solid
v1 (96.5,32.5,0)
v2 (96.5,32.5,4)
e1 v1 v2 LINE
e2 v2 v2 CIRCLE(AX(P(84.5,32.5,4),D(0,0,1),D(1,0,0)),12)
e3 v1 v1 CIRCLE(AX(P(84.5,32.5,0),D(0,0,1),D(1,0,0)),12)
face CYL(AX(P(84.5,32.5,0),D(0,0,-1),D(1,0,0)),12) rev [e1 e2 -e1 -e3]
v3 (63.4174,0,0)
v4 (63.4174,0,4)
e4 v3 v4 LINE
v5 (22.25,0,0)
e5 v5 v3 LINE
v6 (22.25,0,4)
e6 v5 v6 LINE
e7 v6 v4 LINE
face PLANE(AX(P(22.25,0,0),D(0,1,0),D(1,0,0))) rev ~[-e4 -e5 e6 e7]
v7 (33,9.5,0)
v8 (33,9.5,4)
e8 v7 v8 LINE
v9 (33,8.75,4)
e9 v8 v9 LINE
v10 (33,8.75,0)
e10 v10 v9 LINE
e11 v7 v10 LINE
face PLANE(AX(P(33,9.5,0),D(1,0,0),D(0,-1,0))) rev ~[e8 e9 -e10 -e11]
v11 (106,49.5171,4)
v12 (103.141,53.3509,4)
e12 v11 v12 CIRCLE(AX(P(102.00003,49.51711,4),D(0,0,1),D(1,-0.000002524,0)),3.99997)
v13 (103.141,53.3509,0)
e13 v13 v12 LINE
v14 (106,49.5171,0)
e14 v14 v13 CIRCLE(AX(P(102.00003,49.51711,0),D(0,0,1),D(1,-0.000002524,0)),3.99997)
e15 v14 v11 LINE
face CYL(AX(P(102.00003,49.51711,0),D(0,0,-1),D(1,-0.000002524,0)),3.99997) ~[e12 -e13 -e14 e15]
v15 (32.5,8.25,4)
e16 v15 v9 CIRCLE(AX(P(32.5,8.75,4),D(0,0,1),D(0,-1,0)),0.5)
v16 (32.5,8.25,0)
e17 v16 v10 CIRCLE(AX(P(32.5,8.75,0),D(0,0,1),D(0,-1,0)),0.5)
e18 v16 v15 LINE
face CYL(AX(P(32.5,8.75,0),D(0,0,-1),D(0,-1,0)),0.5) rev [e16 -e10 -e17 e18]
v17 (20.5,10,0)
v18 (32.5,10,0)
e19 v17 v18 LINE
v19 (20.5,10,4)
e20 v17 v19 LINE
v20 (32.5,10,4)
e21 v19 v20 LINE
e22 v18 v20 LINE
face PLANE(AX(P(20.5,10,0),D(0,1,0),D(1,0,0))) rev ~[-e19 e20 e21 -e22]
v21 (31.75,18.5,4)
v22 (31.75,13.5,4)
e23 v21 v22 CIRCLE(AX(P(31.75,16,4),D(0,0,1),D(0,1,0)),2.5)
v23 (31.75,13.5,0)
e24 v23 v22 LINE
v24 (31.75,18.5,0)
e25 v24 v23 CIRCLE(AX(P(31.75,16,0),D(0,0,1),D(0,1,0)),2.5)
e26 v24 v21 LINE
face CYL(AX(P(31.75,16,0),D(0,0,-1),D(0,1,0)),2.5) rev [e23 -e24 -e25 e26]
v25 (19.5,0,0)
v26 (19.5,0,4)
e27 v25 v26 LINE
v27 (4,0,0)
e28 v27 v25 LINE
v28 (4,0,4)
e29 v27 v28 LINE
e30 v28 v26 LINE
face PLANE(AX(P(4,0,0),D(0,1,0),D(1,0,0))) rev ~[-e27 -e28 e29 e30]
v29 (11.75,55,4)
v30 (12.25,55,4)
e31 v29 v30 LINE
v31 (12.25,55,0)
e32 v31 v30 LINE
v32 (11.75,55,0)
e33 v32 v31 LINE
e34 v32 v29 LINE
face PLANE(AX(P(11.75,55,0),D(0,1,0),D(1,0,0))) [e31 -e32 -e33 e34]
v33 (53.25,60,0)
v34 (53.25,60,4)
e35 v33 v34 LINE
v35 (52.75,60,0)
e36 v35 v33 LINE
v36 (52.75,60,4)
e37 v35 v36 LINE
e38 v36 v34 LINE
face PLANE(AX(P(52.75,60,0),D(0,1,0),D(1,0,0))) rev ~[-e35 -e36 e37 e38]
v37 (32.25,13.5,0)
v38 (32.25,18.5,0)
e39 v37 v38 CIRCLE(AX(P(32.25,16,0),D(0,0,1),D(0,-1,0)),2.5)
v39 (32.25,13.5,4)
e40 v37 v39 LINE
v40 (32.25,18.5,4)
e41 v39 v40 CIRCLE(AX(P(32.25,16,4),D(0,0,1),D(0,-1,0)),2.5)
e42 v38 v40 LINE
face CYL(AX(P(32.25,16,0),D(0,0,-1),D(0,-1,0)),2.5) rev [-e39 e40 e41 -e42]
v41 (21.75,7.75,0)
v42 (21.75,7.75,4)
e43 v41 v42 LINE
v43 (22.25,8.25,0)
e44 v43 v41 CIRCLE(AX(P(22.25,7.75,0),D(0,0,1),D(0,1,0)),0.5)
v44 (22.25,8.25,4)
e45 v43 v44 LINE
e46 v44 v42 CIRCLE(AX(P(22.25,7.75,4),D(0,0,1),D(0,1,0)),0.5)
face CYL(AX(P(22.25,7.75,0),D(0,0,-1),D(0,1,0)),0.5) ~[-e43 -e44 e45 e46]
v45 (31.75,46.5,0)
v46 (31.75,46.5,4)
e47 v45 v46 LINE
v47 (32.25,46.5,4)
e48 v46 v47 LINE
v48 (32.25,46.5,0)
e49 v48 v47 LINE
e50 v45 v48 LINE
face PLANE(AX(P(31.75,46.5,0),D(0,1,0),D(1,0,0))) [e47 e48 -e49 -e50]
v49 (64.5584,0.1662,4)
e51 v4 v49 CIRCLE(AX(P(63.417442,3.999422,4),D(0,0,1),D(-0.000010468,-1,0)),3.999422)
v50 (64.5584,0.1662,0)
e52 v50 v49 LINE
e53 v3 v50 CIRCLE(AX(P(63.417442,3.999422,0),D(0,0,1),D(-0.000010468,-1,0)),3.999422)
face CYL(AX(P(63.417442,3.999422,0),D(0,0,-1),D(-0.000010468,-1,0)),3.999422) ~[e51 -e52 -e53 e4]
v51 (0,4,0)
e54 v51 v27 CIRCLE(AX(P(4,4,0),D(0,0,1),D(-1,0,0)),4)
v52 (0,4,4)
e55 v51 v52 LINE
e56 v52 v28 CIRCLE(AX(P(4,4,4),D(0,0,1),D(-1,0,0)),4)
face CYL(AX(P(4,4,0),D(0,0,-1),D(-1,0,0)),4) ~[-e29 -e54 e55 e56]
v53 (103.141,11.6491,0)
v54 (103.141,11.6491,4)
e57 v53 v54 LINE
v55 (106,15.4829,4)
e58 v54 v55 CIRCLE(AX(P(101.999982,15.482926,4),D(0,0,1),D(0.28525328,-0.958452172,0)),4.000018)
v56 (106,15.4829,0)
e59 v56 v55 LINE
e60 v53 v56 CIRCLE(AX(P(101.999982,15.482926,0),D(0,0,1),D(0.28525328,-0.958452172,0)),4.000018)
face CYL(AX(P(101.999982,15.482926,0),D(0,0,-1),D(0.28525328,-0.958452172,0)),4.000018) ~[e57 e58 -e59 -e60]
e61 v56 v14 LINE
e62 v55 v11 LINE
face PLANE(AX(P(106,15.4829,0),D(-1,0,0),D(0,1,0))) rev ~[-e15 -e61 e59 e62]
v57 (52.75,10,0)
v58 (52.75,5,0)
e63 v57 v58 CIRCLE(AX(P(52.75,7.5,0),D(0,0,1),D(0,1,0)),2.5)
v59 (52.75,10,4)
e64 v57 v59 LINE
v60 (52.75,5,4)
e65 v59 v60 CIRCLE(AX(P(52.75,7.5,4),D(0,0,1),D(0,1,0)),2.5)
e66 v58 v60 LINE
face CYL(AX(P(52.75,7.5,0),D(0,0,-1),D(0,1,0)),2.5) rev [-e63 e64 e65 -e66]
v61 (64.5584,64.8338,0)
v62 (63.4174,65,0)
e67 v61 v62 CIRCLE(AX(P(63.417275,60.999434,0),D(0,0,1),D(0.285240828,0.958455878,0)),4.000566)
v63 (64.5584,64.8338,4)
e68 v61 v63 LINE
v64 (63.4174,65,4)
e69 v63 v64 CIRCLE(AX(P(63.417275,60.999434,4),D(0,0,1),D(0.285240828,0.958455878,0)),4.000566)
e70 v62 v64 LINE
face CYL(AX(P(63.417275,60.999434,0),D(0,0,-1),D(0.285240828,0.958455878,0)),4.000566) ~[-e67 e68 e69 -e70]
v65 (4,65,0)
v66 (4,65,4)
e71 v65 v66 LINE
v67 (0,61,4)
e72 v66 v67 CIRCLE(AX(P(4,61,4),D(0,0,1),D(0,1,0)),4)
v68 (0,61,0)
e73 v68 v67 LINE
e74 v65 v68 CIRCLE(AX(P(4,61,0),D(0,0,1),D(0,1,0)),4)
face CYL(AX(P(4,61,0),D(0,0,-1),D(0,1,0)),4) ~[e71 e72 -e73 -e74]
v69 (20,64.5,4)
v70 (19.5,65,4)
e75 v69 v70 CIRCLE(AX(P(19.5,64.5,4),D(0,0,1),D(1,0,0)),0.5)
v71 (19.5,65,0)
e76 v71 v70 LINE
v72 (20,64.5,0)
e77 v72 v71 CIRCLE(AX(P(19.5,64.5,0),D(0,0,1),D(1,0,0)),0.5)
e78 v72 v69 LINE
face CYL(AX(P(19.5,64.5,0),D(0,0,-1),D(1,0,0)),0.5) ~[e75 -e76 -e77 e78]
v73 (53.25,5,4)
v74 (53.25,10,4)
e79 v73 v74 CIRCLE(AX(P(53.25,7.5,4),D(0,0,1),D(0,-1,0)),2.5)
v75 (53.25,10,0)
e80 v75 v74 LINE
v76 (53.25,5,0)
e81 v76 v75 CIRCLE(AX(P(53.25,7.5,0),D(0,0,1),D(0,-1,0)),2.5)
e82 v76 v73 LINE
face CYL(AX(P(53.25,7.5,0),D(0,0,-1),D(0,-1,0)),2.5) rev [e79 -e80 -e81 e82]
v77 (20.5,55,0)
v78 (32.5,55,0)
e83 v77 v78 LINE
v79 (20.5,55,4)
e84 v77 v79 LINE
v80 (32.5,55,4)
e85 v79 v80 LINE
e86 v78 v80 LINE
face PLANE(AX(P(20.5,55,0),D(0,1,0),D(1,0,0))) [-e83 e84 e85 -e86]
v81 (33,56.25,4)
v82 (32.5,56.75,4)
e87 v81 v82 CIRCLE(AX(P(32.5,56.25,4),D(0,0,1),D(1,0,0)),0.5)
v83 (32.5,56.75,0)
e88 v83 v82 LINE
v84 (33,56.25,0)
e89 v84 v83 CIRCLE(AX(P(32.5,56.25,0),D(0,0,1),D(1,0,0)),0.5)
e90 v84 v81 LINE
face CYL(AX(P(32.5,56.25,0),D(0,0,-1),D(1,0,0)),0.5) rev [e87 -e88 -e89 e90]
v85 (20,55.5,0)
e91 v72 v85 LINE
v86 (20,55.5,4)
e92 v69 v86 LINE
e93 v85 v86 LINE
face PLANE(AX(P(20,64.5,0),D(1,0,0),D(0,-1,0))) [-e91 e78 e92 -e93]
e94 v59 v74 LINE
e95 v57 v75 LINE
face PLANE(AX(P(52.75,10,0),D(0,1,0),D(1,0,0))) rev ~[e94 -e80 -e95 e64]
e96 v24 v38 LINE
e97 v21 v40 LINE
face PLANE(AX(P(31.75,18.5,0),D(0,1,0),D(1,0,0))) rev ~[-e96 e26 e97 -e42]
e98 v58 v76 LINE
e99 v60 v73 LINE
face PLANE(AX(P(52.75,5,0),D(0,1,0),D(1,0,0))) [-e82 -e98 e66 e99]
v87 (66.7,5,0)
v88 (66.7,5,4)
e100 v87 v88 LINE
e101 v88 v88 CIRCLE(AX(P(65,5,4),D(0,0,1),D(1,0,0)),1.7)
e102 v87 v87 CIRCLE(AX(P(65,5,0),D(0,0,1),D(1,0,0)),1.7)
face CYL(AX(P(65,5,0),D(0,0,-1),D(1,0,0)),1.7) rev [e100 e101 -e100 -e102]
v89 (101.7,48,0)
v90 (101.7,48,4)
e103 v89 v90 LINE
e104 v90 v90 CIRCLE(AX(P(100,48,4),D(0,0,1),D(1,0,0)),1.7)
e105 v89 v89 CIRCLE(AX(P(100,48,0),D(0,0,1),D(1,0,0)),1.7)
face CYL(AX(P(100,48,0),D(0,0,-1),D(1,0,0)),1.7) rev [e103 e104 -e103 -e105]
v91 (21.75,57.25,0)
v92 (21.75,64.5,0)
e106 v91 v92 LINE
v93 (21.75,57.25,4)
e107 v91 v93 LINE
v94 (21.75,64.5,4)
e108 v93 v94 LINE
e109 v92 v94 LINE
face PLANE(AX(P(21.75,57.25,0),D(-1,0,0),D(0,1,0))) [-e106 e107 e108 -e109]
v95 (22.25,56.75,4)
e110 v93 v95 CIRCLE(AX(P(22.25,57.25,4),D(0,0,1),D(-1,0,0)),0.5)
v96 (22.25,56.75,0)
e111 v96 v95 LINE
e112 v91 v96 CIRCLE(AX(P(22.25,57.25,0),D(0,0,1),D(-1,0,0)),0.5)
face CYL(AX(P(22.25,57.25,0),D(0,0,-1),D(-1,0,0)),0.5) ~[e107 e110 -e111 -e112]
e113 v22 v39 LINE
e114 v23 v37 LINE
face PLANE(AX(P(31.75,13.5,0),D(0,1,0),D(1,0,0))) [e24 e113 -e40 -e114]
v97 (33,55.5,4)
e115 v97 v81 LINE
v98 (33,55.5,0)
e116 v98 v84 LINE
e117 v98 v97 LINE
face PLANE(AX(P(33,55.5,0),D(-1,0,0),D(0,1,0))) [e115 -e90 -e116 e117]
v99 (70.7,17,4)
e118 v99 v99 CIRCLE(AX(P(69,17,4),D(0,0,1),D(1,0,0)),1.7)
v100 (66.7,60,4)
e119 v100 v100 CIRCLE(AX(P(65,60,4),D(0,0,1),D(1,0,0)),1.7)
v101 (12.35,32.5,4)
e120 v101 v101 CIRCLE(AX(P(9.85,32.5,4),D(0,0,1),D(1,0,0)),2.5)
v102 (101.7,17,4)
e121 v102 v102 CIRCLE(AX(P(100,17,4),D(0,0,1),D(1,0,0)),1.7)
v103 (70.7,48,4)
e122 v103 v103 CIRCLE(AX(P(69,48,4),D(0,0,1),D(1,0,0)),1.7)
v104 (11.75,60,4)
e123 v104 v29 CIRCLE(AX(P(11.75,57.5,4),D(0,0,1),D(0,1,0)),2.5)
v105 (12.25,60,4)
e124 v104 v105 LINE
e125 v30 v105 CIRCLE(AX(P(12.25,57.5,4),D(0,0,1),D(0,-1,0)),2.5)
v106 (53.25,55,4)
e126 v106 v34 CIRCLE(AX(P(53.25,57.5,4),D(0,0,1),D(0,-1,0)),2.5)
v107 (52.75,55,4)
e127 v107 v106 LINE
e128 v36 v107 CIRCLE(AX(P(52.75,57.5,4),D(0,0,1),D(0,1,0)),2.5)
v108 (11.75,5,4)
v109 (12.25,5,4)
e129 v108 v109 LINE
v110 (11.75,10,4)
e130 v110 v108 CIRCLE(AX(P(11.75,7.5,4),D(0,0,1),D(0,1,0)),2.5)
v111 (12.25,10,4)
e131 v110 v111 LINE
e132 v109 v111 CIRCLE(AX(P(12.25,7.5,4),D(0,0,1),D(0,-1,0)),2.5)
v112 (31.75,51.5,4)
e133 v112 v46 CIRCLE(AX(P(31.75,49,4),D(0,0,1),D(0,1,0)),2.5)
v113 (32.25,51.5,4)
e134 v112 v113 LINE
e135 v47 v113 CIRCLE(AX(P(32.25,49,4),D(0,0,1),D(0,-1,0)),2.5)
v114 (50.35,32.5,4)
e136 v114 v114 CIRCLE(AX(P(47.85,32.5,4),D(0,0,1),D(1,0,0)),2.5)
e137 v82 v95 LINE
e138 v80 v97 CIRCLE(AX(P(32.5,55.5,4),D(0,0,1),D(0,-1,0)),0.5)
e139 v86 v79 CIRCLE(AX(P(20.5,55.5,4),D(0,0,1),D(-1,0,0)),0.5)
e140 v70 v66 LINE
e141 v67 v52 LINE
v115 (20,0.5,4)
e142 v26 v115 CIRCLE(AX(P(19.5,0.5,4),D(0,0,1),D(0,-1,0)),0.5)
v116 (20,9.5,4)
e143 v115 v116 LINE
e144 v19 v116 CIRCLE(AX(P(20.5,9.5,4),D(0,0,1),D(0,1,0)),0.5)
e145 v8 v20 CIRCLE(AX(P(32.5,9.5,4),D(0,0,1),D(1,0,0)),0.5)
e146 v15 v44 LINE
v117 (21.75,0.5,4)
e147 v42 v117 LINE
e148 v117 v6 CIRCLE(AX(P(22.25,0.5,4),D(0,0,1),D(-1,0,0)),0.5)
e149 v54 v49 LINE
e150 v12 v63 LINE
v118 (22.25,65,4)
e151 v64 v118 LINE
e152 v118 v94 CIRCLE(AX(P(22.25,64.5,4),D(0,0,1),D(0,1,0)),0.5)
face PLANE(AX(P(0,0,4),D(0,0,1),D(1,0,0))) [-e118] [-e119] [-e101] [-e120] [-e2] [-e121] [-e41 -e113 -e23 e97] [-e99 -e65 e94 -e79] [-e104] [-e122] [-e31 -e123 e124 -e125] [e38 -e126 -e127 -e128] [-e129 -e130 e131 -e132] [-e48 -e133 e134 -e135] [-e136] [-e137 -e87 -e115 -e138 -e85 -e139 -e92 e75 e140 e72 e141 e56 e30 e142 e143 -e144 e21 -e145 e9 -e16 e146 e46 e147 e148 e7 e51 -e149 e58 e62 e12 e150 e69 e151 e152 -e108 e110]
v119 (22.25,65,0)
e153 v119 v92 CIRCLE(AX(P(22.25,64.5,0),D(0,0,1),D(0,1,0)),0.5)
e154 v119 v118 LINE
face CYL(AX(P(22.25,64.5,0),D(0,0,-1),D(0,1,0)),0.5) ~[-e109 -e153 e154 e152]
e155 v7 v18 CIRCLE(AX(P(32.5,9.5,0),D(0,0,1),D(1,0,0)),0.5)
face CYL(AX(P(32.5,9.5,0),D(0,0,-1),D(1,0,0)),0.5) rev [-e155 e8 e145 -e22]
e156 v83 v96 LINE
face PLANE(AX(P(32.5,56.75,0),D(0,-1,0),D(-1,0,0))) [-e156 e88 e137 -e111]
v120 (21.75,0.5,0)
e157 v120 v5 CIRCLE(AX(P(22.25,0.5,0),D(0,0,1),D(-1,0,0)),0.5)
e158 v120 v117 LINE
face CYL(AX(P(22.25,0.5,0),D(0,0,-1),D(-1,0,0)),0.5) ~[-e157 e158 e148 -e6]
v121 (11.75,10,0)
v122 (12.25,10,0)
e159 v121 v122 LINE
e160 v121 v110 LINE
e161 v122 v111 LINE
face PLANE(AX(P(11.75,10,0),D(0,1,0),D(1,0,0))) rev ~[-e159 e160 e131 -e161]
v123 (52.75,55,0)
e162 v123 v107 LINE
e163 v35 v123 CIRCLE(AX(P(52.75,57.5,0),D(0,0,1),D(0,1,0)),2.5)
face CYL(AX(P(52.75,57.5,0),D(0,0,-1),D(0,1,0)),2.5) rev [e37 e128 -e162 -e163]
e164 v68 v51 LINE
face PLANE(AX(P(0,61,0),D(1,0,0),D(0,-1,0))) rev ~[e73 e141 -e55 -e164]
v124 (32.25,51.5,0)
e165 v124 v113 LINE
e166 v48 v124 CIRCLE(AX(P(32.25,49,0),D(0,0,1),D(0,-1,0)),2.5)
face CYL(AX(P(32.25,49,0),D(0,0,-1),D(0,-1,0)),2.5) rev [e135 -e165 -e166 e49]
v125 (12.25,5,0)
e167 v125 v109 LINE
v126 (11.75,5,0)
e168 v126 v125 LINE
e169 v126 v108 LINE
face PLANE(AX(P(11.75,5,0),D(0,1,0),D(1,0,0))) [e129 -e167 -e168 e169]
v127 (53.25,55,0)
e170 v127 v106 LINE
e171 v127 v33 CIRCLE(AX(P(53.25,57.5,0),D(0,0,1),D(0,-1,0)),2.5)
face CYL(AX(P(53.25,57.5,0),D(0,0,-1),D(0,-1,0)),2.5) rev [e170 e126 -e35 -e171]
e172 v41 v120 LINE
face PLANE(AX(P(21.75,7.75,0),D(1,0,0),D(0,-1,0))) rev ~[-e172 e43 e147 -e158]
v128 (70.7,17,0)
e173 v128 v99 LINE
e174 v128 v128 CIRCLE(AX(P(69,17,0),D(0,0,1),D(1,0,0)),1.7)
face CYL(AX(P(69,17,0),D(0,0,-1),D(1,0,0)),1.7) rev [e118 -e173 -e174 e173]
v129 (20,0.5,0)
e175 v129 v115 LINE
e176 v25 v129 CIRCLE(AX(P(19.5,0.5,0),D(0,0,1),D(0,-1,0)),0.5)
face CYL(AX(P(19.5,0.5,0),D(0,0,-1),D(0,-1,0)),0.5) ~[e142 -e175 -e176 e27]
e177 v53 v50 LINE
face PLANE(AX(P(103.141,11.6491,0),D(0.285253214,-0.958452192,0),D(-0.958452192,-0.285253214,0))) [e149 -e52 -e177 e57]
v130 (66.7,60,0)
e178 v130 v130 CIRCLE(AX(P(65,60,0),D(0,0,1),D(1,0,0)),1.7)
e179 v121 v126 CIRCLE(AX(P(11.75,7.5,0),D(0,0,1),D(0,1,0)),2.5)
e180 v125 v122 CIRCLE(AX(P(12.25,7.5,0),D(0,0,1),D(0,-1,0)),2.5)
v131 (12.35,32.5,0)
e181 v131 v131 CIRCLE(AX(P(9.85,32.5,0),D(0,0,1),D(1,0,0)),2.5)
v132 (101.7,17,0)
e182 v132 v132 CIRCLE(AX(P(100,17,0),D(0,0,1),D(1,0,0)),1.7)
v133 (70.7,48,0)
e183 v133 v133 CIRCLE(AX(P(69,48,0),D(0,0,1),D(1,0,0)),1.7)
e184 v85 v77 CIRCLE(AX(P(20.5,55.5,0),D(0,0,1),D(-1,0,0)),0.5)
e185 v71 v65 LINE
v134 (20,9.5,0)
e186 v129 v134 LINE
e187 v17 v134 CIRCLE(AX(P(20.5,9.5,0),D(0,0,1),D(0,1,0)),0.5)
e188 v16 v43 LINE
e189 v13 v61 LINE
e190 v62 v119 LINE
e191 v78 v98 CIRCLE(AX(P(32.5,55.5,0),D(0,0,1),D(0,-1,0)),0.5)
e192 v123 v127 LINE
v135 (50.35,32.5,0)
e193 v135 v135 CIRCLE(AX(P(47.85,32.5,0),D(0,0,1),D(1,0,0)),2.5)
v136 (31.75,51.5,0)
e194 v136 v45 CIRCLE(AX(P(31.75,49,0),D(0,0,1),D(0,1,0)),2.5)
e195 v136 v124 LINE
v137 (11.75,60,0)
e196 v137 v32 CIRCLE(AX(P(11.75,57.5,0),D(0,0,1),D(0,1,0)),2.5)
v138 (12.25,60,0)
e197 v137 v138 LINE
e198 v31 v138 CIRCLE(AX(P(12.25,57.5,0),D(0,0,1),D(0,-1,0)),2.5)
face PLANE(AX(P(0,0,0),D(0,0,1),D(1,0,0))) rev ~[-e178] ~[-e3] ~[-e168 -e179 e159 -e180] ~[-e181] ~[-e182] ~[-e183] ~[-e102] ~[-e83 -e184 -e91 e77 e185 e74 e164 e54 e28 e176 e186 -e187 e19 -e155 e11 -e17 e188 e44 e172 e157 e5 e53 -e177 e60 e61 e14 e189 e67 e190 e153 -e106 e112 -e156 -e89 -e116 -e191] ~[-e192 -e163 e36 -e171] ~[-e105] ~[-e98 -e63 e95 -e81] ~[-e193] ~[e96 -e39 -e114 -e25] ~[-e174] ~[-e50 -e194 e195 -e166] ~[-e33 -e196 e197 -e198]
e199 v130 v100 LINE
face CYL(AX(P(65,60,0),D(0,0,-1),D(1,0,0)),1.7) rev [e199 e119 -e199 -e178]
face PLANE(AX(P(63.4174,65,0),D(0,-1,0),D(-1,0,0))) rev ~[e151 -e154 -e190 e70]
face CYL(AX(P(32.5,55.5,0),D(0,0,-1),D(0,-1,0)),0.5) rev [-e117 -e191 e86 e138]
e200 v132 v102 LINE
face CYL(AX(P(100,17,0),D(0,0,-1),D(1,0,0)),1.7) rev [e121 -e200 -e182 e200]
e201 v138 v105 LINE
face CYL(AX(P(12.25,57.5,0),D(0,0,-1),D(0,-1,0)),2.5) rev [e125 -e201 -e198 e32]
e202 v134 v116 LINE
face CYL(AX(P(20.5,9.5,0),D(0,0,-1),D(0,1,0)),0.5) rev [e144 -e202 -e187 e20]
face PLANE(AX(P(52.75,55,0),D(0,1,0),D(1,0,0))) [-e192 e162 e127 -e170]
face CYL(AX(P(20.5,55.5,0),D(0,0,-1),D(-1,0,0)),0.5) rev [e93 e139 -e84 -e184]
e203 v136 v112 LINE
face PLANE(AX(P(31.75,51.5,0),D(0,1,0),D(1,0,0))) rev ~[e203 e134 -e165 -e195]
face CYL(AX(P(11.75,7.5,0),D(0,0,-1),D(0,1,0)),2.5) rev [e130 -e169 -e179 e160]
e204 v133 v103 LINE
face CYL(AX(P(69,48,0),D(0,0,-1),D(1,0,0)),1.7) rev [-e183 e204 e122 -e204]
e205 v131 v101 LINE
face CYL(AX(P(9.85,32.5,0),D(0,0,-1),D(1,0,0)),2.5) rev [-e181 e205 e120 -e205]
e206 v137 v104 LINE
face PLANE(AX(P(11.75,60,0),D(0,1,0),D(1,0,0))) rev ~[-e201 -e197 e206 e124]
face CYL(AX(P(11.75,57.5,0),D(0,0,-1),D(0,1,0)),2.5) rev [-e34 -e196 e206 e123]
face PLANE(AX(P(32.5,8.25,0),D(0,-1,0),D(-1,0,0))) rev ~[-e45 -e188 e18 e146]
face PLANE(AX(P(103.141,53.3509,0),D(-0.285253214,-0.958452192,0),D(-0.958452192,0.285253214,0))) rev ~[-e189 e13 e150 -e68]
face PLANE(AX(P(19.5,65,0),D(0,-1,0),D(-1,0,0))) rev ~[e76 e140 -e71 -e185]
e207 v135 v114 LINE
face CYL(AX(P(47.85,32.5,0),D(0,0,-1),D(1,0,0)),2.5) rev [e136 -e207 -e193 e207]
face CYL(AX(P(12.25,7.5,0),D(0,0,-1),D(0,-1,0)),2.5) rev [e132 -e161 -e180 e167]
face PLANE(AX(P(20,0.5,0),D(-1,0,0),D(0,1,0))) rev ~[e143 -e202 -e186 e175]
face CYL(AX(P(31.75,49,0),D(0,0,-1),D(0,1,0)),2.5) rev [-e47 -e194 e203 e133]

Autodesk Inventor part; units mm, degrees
ref_plane "YZ Plane" through (0, 0, 0) normal (1, 0, 0) x (0, 1, 0)
ref_plane "XZ Plane" through (0, 0, 0) normal (0, 1, 0) x (-1, 0, 0)
ref_plane "XY Plane" through (0, 0, 0) normal (0, 0, 1) x (1, 0, 0)
sketch "Szkic1" plane through (0, 0, 0) normal (0, 0, 1) x (1, 0, 0)
  line L0 (0, 61) -> (0, 4)
  line L1 (106, 15.4829) -> (106, 49.5171)
  line L2 (103.141, 53.3509) -> (64.5584, 64.8338)
  line L3 (103.141, 11.6491) -> (64.5584, 0.1662)
  arc A0 (4, 65) -> (0, 61) centre (4, 61) ccw
  arc A1 (64.5584, 64.8338) -> (63.4174, 65) centre (63.4174, 61) ccw
  arc A2 (106, 49.5171) -> (103.141, 53.3509) centre (102, 49.5171) ccw
  arc A3 (103.141, 11.6491) -> (106, 15.4829) centre (102, 15.4829) ccw
  arc A4 (63.4174, 0) -> (64.5584, 0.1662) centre (63.4174, 4) ccw
  arc A5 (0, 4) -> (4, 0) centre (4, 4) ccw
  line L4 (0, 0) -> (20, 0)
  line L5 (20, 0.5) -> (20, 9.5)
  line L6 (20.5, 10) -> (32.5, 10)
  line L7 (33, 9.5) -> (33, 8.75)
  line L8 (32.5, 8.25) -> (22.25, 8.25)
  line L9 (21.75, 7.75) -> (21.75, 0.5)
  line L10 (4, 0) -> (19.5, 0)
  line L11 (22.25, 0) -> (63.4174, 0)
  arc A6 (19.5, 0) -> (20, 0.5) centre (19.5, 0.5) ccw
  arc A7 (20.5, 10) -> (20, 9.5) centre (20.5, 9.5) ccw
  arc A8 (33, 9.5) -> (32.5, 10) centre (32.5, 9.5) ccw
  arc A9 (32.5, 8.25) -> (33, 8.75) centre (32.5, 8.75) ccw
  arc A10 (22.25, 8.25) -> (21.75, 7.75) centre (22.25, 7.75) ccw
  arc A11 (21.75, 0.5) -> (22.25, 0) centre (22.25, 0.5) ccw
  line L12 (20, 64.5) -> (20, 55.5)
  line L13 (20.5, 55) -> (32.5, 55)
  line L14 (33, 55.5) -> (33, 56.25)
  line L15 (32.5, 56.75) -> (22.25, 56.75)
  line L16 (21.75, 57.25) -> (21.75, 64.5)
  arc A12 (20, 64.5) -> (19.5, 65) centre (19.5, 64.5) ccw
  arc A13 (20, 55.5) -> (20.5, 55) centre (20.5, 55.5) ccw
  arc A14 (32.5, 55) -> (33, 55.5) centre (32.5, 55.5) ccw
  arc A15 (33, 56.25) -> (32.5, 56.75) centre (32.5, 56.25) ccw
  arc A16 (21.75, 57.25) -> (22.25, 56.75) centre (22.25, 57.25) ccw
  arc A17 (22.25, 65) -> (21.75, 64.5) centre (22.25, 64.5) ccw
  line L17 (63.4174, 65) -> (22.25, 65)
  line L18 (19.5, 65) -> (4, 65)
  circle A18 centre (65, 5) radius 1.7
  circle A19 centre (65, 60) radius 1.7
  circle A20 centre (69, 48) radius 1.7
  circle A21 centre (100, 48) radius 1.7
  circle A22 centre (69, 17) radius 1.7
  circle A23 centre (100, 17) radius 1.7
  circle A24 centre (84.5, 32.5) radius 12
  circle A25 centre (9.85, 32.5) radius 2.5
  circle A26 centre (47.85, 32.5) radius 2.5
  arc A27 (11.75, 60) -> (11.75, 55) centre (11.75, 57.5) ccw
  arc A28 (12.25, 55) -> (12.25, 60) centre (12.25, 57.5) ccw
  line L19 (11.75, 60) -> (12.25, 60)
  line L20 (11.75, 55) -> (12.25, 55)
  arc A29 (52.75, 60) -> (52.75, 55) centre (52.75, 57.5) ccw
  arc A30 (53.25, 55) -> (53.25, 60) centre (53.25, 57.5) ccw
  line L21 (52.75, 60) -> (53.25, 60)
  line L22 (52.75, 55) -> (53.25, 55)
  arc A31 (11.75, 10) -> (11.75, 5) centre (11.75, 7.5) ccw
  arc A32 (12.25, 5) -> (12.25, 10) centre (12.25, 7.5) ccw
  line L23 (11.75, 5) -> (12.25, 5)
  line L24 (11.75, 10) -> (12.25, 10)
  arc A33 (52.75, 10) -> (52.75, 5) centre (52.75, 7.5) ccw
  arc A34 (53.25, 5) -> (53.25, 10) centre (53.25, 7.5) ccw
  line L25 (52.75, 5) -> (53.25, 5)
  line L26 (52.75, 10) -> (53.25, 10)
  arc A35 (31.75, 51.5) -> (31.75, 46.5) centre (31.75, 49) ccw
  arc A36 (32.25, 46.5) -> (32.25, 51.5) centre (32.25, 49) ccw
  line L27 (31.75, 51.5) -> (32.25, 51.5)
  line L28 (31.75, 46.5) -> (32.25, 46.5)
  arc A37 (31.75, 18.5) -> (31.75, 13.5) centre (31.75, 16) ccw
  arc A38 (32.25, 13.5) -> (32.25, 18.5) centre (32.25, 16) ccw
  line L29 (31.75, 13.5) -> (32.25, 13.5)
  line L30 (31.75, 18.5) -> (32.25, 18.5)
  point P0 (106, 12.5)
  point P1 (106, 52.5)
  point P2 (20, 10)
  point P3 (33, 10)
  point P4 (33, 8.25)
  point P5 (21.75, 8.25)
  point P6 (21.75, 56.75)
  dimension "d2" = 106
  dimension "d3" = 40
  dimension "d5" = 4
  dimension "d6" = 20
  dimension "d7" = 10
  dimension "d8" = 13
  dimension "d9" = 1.75
  dimension "d10" = 11.25
  dimension "d11" = 0.5
  dimension "d12" = 3.4
  dimension "d13" = 65
  dimension "d14" = 5
  dimension "d16" = 3.4
  dimension "d18" = 69
  dimension "d19" = 3.4
  dimension "d20" = 3.4
  dimension "d21" = 3.4
  dimension "d24" = 69
  dimension "d25" = 31
  dimension "d26" = 31
  dimension "d27" = 24
  dimension "d28" = 84.5
  dimension "d29" = 5
  dimension "d30" = 5
  dimension "d31" = 9.85
  dimension "d32" = 38
  dimension "d33" = 5
  dimension "d35" = 5
  dimension "d36" = 9.25
  dimension "d37" = 5
  dimension "d39" = 5
  dimension "d40" = 35.5
  dimension "d42" = 5
  dimension "d47" = 5
  dimension "d48" = 5
extrude "Płyta1" add sketch "Szkic1" along normal blind 4
equation "\"d49\" = Grubość"
equation "\"PromieńGięcia\" = Grubość"
equation "\"SzerokośćGięciaPodcięcia\" = Grubość"
equation "\"GłębokośćGięciaPodcięcia\" = 0.5 * Grubość"
equation "\"RozmiarPodcięciaNarożnika\" = 4 * Grubość"
equation "\"MinimalnaPozostałość\" = 2 * Grubość"
equation "\"PromieńPrzejścia\" = PromieńGięcia"
equation "\"Rozmiar_promienia_Jacobiego\" = PromieńGięcia"
equation "\"Wielk_odstępu\" = Grubość"
equation "\"Grubość\" = 4"
properties part number "podstawa_prawa"
